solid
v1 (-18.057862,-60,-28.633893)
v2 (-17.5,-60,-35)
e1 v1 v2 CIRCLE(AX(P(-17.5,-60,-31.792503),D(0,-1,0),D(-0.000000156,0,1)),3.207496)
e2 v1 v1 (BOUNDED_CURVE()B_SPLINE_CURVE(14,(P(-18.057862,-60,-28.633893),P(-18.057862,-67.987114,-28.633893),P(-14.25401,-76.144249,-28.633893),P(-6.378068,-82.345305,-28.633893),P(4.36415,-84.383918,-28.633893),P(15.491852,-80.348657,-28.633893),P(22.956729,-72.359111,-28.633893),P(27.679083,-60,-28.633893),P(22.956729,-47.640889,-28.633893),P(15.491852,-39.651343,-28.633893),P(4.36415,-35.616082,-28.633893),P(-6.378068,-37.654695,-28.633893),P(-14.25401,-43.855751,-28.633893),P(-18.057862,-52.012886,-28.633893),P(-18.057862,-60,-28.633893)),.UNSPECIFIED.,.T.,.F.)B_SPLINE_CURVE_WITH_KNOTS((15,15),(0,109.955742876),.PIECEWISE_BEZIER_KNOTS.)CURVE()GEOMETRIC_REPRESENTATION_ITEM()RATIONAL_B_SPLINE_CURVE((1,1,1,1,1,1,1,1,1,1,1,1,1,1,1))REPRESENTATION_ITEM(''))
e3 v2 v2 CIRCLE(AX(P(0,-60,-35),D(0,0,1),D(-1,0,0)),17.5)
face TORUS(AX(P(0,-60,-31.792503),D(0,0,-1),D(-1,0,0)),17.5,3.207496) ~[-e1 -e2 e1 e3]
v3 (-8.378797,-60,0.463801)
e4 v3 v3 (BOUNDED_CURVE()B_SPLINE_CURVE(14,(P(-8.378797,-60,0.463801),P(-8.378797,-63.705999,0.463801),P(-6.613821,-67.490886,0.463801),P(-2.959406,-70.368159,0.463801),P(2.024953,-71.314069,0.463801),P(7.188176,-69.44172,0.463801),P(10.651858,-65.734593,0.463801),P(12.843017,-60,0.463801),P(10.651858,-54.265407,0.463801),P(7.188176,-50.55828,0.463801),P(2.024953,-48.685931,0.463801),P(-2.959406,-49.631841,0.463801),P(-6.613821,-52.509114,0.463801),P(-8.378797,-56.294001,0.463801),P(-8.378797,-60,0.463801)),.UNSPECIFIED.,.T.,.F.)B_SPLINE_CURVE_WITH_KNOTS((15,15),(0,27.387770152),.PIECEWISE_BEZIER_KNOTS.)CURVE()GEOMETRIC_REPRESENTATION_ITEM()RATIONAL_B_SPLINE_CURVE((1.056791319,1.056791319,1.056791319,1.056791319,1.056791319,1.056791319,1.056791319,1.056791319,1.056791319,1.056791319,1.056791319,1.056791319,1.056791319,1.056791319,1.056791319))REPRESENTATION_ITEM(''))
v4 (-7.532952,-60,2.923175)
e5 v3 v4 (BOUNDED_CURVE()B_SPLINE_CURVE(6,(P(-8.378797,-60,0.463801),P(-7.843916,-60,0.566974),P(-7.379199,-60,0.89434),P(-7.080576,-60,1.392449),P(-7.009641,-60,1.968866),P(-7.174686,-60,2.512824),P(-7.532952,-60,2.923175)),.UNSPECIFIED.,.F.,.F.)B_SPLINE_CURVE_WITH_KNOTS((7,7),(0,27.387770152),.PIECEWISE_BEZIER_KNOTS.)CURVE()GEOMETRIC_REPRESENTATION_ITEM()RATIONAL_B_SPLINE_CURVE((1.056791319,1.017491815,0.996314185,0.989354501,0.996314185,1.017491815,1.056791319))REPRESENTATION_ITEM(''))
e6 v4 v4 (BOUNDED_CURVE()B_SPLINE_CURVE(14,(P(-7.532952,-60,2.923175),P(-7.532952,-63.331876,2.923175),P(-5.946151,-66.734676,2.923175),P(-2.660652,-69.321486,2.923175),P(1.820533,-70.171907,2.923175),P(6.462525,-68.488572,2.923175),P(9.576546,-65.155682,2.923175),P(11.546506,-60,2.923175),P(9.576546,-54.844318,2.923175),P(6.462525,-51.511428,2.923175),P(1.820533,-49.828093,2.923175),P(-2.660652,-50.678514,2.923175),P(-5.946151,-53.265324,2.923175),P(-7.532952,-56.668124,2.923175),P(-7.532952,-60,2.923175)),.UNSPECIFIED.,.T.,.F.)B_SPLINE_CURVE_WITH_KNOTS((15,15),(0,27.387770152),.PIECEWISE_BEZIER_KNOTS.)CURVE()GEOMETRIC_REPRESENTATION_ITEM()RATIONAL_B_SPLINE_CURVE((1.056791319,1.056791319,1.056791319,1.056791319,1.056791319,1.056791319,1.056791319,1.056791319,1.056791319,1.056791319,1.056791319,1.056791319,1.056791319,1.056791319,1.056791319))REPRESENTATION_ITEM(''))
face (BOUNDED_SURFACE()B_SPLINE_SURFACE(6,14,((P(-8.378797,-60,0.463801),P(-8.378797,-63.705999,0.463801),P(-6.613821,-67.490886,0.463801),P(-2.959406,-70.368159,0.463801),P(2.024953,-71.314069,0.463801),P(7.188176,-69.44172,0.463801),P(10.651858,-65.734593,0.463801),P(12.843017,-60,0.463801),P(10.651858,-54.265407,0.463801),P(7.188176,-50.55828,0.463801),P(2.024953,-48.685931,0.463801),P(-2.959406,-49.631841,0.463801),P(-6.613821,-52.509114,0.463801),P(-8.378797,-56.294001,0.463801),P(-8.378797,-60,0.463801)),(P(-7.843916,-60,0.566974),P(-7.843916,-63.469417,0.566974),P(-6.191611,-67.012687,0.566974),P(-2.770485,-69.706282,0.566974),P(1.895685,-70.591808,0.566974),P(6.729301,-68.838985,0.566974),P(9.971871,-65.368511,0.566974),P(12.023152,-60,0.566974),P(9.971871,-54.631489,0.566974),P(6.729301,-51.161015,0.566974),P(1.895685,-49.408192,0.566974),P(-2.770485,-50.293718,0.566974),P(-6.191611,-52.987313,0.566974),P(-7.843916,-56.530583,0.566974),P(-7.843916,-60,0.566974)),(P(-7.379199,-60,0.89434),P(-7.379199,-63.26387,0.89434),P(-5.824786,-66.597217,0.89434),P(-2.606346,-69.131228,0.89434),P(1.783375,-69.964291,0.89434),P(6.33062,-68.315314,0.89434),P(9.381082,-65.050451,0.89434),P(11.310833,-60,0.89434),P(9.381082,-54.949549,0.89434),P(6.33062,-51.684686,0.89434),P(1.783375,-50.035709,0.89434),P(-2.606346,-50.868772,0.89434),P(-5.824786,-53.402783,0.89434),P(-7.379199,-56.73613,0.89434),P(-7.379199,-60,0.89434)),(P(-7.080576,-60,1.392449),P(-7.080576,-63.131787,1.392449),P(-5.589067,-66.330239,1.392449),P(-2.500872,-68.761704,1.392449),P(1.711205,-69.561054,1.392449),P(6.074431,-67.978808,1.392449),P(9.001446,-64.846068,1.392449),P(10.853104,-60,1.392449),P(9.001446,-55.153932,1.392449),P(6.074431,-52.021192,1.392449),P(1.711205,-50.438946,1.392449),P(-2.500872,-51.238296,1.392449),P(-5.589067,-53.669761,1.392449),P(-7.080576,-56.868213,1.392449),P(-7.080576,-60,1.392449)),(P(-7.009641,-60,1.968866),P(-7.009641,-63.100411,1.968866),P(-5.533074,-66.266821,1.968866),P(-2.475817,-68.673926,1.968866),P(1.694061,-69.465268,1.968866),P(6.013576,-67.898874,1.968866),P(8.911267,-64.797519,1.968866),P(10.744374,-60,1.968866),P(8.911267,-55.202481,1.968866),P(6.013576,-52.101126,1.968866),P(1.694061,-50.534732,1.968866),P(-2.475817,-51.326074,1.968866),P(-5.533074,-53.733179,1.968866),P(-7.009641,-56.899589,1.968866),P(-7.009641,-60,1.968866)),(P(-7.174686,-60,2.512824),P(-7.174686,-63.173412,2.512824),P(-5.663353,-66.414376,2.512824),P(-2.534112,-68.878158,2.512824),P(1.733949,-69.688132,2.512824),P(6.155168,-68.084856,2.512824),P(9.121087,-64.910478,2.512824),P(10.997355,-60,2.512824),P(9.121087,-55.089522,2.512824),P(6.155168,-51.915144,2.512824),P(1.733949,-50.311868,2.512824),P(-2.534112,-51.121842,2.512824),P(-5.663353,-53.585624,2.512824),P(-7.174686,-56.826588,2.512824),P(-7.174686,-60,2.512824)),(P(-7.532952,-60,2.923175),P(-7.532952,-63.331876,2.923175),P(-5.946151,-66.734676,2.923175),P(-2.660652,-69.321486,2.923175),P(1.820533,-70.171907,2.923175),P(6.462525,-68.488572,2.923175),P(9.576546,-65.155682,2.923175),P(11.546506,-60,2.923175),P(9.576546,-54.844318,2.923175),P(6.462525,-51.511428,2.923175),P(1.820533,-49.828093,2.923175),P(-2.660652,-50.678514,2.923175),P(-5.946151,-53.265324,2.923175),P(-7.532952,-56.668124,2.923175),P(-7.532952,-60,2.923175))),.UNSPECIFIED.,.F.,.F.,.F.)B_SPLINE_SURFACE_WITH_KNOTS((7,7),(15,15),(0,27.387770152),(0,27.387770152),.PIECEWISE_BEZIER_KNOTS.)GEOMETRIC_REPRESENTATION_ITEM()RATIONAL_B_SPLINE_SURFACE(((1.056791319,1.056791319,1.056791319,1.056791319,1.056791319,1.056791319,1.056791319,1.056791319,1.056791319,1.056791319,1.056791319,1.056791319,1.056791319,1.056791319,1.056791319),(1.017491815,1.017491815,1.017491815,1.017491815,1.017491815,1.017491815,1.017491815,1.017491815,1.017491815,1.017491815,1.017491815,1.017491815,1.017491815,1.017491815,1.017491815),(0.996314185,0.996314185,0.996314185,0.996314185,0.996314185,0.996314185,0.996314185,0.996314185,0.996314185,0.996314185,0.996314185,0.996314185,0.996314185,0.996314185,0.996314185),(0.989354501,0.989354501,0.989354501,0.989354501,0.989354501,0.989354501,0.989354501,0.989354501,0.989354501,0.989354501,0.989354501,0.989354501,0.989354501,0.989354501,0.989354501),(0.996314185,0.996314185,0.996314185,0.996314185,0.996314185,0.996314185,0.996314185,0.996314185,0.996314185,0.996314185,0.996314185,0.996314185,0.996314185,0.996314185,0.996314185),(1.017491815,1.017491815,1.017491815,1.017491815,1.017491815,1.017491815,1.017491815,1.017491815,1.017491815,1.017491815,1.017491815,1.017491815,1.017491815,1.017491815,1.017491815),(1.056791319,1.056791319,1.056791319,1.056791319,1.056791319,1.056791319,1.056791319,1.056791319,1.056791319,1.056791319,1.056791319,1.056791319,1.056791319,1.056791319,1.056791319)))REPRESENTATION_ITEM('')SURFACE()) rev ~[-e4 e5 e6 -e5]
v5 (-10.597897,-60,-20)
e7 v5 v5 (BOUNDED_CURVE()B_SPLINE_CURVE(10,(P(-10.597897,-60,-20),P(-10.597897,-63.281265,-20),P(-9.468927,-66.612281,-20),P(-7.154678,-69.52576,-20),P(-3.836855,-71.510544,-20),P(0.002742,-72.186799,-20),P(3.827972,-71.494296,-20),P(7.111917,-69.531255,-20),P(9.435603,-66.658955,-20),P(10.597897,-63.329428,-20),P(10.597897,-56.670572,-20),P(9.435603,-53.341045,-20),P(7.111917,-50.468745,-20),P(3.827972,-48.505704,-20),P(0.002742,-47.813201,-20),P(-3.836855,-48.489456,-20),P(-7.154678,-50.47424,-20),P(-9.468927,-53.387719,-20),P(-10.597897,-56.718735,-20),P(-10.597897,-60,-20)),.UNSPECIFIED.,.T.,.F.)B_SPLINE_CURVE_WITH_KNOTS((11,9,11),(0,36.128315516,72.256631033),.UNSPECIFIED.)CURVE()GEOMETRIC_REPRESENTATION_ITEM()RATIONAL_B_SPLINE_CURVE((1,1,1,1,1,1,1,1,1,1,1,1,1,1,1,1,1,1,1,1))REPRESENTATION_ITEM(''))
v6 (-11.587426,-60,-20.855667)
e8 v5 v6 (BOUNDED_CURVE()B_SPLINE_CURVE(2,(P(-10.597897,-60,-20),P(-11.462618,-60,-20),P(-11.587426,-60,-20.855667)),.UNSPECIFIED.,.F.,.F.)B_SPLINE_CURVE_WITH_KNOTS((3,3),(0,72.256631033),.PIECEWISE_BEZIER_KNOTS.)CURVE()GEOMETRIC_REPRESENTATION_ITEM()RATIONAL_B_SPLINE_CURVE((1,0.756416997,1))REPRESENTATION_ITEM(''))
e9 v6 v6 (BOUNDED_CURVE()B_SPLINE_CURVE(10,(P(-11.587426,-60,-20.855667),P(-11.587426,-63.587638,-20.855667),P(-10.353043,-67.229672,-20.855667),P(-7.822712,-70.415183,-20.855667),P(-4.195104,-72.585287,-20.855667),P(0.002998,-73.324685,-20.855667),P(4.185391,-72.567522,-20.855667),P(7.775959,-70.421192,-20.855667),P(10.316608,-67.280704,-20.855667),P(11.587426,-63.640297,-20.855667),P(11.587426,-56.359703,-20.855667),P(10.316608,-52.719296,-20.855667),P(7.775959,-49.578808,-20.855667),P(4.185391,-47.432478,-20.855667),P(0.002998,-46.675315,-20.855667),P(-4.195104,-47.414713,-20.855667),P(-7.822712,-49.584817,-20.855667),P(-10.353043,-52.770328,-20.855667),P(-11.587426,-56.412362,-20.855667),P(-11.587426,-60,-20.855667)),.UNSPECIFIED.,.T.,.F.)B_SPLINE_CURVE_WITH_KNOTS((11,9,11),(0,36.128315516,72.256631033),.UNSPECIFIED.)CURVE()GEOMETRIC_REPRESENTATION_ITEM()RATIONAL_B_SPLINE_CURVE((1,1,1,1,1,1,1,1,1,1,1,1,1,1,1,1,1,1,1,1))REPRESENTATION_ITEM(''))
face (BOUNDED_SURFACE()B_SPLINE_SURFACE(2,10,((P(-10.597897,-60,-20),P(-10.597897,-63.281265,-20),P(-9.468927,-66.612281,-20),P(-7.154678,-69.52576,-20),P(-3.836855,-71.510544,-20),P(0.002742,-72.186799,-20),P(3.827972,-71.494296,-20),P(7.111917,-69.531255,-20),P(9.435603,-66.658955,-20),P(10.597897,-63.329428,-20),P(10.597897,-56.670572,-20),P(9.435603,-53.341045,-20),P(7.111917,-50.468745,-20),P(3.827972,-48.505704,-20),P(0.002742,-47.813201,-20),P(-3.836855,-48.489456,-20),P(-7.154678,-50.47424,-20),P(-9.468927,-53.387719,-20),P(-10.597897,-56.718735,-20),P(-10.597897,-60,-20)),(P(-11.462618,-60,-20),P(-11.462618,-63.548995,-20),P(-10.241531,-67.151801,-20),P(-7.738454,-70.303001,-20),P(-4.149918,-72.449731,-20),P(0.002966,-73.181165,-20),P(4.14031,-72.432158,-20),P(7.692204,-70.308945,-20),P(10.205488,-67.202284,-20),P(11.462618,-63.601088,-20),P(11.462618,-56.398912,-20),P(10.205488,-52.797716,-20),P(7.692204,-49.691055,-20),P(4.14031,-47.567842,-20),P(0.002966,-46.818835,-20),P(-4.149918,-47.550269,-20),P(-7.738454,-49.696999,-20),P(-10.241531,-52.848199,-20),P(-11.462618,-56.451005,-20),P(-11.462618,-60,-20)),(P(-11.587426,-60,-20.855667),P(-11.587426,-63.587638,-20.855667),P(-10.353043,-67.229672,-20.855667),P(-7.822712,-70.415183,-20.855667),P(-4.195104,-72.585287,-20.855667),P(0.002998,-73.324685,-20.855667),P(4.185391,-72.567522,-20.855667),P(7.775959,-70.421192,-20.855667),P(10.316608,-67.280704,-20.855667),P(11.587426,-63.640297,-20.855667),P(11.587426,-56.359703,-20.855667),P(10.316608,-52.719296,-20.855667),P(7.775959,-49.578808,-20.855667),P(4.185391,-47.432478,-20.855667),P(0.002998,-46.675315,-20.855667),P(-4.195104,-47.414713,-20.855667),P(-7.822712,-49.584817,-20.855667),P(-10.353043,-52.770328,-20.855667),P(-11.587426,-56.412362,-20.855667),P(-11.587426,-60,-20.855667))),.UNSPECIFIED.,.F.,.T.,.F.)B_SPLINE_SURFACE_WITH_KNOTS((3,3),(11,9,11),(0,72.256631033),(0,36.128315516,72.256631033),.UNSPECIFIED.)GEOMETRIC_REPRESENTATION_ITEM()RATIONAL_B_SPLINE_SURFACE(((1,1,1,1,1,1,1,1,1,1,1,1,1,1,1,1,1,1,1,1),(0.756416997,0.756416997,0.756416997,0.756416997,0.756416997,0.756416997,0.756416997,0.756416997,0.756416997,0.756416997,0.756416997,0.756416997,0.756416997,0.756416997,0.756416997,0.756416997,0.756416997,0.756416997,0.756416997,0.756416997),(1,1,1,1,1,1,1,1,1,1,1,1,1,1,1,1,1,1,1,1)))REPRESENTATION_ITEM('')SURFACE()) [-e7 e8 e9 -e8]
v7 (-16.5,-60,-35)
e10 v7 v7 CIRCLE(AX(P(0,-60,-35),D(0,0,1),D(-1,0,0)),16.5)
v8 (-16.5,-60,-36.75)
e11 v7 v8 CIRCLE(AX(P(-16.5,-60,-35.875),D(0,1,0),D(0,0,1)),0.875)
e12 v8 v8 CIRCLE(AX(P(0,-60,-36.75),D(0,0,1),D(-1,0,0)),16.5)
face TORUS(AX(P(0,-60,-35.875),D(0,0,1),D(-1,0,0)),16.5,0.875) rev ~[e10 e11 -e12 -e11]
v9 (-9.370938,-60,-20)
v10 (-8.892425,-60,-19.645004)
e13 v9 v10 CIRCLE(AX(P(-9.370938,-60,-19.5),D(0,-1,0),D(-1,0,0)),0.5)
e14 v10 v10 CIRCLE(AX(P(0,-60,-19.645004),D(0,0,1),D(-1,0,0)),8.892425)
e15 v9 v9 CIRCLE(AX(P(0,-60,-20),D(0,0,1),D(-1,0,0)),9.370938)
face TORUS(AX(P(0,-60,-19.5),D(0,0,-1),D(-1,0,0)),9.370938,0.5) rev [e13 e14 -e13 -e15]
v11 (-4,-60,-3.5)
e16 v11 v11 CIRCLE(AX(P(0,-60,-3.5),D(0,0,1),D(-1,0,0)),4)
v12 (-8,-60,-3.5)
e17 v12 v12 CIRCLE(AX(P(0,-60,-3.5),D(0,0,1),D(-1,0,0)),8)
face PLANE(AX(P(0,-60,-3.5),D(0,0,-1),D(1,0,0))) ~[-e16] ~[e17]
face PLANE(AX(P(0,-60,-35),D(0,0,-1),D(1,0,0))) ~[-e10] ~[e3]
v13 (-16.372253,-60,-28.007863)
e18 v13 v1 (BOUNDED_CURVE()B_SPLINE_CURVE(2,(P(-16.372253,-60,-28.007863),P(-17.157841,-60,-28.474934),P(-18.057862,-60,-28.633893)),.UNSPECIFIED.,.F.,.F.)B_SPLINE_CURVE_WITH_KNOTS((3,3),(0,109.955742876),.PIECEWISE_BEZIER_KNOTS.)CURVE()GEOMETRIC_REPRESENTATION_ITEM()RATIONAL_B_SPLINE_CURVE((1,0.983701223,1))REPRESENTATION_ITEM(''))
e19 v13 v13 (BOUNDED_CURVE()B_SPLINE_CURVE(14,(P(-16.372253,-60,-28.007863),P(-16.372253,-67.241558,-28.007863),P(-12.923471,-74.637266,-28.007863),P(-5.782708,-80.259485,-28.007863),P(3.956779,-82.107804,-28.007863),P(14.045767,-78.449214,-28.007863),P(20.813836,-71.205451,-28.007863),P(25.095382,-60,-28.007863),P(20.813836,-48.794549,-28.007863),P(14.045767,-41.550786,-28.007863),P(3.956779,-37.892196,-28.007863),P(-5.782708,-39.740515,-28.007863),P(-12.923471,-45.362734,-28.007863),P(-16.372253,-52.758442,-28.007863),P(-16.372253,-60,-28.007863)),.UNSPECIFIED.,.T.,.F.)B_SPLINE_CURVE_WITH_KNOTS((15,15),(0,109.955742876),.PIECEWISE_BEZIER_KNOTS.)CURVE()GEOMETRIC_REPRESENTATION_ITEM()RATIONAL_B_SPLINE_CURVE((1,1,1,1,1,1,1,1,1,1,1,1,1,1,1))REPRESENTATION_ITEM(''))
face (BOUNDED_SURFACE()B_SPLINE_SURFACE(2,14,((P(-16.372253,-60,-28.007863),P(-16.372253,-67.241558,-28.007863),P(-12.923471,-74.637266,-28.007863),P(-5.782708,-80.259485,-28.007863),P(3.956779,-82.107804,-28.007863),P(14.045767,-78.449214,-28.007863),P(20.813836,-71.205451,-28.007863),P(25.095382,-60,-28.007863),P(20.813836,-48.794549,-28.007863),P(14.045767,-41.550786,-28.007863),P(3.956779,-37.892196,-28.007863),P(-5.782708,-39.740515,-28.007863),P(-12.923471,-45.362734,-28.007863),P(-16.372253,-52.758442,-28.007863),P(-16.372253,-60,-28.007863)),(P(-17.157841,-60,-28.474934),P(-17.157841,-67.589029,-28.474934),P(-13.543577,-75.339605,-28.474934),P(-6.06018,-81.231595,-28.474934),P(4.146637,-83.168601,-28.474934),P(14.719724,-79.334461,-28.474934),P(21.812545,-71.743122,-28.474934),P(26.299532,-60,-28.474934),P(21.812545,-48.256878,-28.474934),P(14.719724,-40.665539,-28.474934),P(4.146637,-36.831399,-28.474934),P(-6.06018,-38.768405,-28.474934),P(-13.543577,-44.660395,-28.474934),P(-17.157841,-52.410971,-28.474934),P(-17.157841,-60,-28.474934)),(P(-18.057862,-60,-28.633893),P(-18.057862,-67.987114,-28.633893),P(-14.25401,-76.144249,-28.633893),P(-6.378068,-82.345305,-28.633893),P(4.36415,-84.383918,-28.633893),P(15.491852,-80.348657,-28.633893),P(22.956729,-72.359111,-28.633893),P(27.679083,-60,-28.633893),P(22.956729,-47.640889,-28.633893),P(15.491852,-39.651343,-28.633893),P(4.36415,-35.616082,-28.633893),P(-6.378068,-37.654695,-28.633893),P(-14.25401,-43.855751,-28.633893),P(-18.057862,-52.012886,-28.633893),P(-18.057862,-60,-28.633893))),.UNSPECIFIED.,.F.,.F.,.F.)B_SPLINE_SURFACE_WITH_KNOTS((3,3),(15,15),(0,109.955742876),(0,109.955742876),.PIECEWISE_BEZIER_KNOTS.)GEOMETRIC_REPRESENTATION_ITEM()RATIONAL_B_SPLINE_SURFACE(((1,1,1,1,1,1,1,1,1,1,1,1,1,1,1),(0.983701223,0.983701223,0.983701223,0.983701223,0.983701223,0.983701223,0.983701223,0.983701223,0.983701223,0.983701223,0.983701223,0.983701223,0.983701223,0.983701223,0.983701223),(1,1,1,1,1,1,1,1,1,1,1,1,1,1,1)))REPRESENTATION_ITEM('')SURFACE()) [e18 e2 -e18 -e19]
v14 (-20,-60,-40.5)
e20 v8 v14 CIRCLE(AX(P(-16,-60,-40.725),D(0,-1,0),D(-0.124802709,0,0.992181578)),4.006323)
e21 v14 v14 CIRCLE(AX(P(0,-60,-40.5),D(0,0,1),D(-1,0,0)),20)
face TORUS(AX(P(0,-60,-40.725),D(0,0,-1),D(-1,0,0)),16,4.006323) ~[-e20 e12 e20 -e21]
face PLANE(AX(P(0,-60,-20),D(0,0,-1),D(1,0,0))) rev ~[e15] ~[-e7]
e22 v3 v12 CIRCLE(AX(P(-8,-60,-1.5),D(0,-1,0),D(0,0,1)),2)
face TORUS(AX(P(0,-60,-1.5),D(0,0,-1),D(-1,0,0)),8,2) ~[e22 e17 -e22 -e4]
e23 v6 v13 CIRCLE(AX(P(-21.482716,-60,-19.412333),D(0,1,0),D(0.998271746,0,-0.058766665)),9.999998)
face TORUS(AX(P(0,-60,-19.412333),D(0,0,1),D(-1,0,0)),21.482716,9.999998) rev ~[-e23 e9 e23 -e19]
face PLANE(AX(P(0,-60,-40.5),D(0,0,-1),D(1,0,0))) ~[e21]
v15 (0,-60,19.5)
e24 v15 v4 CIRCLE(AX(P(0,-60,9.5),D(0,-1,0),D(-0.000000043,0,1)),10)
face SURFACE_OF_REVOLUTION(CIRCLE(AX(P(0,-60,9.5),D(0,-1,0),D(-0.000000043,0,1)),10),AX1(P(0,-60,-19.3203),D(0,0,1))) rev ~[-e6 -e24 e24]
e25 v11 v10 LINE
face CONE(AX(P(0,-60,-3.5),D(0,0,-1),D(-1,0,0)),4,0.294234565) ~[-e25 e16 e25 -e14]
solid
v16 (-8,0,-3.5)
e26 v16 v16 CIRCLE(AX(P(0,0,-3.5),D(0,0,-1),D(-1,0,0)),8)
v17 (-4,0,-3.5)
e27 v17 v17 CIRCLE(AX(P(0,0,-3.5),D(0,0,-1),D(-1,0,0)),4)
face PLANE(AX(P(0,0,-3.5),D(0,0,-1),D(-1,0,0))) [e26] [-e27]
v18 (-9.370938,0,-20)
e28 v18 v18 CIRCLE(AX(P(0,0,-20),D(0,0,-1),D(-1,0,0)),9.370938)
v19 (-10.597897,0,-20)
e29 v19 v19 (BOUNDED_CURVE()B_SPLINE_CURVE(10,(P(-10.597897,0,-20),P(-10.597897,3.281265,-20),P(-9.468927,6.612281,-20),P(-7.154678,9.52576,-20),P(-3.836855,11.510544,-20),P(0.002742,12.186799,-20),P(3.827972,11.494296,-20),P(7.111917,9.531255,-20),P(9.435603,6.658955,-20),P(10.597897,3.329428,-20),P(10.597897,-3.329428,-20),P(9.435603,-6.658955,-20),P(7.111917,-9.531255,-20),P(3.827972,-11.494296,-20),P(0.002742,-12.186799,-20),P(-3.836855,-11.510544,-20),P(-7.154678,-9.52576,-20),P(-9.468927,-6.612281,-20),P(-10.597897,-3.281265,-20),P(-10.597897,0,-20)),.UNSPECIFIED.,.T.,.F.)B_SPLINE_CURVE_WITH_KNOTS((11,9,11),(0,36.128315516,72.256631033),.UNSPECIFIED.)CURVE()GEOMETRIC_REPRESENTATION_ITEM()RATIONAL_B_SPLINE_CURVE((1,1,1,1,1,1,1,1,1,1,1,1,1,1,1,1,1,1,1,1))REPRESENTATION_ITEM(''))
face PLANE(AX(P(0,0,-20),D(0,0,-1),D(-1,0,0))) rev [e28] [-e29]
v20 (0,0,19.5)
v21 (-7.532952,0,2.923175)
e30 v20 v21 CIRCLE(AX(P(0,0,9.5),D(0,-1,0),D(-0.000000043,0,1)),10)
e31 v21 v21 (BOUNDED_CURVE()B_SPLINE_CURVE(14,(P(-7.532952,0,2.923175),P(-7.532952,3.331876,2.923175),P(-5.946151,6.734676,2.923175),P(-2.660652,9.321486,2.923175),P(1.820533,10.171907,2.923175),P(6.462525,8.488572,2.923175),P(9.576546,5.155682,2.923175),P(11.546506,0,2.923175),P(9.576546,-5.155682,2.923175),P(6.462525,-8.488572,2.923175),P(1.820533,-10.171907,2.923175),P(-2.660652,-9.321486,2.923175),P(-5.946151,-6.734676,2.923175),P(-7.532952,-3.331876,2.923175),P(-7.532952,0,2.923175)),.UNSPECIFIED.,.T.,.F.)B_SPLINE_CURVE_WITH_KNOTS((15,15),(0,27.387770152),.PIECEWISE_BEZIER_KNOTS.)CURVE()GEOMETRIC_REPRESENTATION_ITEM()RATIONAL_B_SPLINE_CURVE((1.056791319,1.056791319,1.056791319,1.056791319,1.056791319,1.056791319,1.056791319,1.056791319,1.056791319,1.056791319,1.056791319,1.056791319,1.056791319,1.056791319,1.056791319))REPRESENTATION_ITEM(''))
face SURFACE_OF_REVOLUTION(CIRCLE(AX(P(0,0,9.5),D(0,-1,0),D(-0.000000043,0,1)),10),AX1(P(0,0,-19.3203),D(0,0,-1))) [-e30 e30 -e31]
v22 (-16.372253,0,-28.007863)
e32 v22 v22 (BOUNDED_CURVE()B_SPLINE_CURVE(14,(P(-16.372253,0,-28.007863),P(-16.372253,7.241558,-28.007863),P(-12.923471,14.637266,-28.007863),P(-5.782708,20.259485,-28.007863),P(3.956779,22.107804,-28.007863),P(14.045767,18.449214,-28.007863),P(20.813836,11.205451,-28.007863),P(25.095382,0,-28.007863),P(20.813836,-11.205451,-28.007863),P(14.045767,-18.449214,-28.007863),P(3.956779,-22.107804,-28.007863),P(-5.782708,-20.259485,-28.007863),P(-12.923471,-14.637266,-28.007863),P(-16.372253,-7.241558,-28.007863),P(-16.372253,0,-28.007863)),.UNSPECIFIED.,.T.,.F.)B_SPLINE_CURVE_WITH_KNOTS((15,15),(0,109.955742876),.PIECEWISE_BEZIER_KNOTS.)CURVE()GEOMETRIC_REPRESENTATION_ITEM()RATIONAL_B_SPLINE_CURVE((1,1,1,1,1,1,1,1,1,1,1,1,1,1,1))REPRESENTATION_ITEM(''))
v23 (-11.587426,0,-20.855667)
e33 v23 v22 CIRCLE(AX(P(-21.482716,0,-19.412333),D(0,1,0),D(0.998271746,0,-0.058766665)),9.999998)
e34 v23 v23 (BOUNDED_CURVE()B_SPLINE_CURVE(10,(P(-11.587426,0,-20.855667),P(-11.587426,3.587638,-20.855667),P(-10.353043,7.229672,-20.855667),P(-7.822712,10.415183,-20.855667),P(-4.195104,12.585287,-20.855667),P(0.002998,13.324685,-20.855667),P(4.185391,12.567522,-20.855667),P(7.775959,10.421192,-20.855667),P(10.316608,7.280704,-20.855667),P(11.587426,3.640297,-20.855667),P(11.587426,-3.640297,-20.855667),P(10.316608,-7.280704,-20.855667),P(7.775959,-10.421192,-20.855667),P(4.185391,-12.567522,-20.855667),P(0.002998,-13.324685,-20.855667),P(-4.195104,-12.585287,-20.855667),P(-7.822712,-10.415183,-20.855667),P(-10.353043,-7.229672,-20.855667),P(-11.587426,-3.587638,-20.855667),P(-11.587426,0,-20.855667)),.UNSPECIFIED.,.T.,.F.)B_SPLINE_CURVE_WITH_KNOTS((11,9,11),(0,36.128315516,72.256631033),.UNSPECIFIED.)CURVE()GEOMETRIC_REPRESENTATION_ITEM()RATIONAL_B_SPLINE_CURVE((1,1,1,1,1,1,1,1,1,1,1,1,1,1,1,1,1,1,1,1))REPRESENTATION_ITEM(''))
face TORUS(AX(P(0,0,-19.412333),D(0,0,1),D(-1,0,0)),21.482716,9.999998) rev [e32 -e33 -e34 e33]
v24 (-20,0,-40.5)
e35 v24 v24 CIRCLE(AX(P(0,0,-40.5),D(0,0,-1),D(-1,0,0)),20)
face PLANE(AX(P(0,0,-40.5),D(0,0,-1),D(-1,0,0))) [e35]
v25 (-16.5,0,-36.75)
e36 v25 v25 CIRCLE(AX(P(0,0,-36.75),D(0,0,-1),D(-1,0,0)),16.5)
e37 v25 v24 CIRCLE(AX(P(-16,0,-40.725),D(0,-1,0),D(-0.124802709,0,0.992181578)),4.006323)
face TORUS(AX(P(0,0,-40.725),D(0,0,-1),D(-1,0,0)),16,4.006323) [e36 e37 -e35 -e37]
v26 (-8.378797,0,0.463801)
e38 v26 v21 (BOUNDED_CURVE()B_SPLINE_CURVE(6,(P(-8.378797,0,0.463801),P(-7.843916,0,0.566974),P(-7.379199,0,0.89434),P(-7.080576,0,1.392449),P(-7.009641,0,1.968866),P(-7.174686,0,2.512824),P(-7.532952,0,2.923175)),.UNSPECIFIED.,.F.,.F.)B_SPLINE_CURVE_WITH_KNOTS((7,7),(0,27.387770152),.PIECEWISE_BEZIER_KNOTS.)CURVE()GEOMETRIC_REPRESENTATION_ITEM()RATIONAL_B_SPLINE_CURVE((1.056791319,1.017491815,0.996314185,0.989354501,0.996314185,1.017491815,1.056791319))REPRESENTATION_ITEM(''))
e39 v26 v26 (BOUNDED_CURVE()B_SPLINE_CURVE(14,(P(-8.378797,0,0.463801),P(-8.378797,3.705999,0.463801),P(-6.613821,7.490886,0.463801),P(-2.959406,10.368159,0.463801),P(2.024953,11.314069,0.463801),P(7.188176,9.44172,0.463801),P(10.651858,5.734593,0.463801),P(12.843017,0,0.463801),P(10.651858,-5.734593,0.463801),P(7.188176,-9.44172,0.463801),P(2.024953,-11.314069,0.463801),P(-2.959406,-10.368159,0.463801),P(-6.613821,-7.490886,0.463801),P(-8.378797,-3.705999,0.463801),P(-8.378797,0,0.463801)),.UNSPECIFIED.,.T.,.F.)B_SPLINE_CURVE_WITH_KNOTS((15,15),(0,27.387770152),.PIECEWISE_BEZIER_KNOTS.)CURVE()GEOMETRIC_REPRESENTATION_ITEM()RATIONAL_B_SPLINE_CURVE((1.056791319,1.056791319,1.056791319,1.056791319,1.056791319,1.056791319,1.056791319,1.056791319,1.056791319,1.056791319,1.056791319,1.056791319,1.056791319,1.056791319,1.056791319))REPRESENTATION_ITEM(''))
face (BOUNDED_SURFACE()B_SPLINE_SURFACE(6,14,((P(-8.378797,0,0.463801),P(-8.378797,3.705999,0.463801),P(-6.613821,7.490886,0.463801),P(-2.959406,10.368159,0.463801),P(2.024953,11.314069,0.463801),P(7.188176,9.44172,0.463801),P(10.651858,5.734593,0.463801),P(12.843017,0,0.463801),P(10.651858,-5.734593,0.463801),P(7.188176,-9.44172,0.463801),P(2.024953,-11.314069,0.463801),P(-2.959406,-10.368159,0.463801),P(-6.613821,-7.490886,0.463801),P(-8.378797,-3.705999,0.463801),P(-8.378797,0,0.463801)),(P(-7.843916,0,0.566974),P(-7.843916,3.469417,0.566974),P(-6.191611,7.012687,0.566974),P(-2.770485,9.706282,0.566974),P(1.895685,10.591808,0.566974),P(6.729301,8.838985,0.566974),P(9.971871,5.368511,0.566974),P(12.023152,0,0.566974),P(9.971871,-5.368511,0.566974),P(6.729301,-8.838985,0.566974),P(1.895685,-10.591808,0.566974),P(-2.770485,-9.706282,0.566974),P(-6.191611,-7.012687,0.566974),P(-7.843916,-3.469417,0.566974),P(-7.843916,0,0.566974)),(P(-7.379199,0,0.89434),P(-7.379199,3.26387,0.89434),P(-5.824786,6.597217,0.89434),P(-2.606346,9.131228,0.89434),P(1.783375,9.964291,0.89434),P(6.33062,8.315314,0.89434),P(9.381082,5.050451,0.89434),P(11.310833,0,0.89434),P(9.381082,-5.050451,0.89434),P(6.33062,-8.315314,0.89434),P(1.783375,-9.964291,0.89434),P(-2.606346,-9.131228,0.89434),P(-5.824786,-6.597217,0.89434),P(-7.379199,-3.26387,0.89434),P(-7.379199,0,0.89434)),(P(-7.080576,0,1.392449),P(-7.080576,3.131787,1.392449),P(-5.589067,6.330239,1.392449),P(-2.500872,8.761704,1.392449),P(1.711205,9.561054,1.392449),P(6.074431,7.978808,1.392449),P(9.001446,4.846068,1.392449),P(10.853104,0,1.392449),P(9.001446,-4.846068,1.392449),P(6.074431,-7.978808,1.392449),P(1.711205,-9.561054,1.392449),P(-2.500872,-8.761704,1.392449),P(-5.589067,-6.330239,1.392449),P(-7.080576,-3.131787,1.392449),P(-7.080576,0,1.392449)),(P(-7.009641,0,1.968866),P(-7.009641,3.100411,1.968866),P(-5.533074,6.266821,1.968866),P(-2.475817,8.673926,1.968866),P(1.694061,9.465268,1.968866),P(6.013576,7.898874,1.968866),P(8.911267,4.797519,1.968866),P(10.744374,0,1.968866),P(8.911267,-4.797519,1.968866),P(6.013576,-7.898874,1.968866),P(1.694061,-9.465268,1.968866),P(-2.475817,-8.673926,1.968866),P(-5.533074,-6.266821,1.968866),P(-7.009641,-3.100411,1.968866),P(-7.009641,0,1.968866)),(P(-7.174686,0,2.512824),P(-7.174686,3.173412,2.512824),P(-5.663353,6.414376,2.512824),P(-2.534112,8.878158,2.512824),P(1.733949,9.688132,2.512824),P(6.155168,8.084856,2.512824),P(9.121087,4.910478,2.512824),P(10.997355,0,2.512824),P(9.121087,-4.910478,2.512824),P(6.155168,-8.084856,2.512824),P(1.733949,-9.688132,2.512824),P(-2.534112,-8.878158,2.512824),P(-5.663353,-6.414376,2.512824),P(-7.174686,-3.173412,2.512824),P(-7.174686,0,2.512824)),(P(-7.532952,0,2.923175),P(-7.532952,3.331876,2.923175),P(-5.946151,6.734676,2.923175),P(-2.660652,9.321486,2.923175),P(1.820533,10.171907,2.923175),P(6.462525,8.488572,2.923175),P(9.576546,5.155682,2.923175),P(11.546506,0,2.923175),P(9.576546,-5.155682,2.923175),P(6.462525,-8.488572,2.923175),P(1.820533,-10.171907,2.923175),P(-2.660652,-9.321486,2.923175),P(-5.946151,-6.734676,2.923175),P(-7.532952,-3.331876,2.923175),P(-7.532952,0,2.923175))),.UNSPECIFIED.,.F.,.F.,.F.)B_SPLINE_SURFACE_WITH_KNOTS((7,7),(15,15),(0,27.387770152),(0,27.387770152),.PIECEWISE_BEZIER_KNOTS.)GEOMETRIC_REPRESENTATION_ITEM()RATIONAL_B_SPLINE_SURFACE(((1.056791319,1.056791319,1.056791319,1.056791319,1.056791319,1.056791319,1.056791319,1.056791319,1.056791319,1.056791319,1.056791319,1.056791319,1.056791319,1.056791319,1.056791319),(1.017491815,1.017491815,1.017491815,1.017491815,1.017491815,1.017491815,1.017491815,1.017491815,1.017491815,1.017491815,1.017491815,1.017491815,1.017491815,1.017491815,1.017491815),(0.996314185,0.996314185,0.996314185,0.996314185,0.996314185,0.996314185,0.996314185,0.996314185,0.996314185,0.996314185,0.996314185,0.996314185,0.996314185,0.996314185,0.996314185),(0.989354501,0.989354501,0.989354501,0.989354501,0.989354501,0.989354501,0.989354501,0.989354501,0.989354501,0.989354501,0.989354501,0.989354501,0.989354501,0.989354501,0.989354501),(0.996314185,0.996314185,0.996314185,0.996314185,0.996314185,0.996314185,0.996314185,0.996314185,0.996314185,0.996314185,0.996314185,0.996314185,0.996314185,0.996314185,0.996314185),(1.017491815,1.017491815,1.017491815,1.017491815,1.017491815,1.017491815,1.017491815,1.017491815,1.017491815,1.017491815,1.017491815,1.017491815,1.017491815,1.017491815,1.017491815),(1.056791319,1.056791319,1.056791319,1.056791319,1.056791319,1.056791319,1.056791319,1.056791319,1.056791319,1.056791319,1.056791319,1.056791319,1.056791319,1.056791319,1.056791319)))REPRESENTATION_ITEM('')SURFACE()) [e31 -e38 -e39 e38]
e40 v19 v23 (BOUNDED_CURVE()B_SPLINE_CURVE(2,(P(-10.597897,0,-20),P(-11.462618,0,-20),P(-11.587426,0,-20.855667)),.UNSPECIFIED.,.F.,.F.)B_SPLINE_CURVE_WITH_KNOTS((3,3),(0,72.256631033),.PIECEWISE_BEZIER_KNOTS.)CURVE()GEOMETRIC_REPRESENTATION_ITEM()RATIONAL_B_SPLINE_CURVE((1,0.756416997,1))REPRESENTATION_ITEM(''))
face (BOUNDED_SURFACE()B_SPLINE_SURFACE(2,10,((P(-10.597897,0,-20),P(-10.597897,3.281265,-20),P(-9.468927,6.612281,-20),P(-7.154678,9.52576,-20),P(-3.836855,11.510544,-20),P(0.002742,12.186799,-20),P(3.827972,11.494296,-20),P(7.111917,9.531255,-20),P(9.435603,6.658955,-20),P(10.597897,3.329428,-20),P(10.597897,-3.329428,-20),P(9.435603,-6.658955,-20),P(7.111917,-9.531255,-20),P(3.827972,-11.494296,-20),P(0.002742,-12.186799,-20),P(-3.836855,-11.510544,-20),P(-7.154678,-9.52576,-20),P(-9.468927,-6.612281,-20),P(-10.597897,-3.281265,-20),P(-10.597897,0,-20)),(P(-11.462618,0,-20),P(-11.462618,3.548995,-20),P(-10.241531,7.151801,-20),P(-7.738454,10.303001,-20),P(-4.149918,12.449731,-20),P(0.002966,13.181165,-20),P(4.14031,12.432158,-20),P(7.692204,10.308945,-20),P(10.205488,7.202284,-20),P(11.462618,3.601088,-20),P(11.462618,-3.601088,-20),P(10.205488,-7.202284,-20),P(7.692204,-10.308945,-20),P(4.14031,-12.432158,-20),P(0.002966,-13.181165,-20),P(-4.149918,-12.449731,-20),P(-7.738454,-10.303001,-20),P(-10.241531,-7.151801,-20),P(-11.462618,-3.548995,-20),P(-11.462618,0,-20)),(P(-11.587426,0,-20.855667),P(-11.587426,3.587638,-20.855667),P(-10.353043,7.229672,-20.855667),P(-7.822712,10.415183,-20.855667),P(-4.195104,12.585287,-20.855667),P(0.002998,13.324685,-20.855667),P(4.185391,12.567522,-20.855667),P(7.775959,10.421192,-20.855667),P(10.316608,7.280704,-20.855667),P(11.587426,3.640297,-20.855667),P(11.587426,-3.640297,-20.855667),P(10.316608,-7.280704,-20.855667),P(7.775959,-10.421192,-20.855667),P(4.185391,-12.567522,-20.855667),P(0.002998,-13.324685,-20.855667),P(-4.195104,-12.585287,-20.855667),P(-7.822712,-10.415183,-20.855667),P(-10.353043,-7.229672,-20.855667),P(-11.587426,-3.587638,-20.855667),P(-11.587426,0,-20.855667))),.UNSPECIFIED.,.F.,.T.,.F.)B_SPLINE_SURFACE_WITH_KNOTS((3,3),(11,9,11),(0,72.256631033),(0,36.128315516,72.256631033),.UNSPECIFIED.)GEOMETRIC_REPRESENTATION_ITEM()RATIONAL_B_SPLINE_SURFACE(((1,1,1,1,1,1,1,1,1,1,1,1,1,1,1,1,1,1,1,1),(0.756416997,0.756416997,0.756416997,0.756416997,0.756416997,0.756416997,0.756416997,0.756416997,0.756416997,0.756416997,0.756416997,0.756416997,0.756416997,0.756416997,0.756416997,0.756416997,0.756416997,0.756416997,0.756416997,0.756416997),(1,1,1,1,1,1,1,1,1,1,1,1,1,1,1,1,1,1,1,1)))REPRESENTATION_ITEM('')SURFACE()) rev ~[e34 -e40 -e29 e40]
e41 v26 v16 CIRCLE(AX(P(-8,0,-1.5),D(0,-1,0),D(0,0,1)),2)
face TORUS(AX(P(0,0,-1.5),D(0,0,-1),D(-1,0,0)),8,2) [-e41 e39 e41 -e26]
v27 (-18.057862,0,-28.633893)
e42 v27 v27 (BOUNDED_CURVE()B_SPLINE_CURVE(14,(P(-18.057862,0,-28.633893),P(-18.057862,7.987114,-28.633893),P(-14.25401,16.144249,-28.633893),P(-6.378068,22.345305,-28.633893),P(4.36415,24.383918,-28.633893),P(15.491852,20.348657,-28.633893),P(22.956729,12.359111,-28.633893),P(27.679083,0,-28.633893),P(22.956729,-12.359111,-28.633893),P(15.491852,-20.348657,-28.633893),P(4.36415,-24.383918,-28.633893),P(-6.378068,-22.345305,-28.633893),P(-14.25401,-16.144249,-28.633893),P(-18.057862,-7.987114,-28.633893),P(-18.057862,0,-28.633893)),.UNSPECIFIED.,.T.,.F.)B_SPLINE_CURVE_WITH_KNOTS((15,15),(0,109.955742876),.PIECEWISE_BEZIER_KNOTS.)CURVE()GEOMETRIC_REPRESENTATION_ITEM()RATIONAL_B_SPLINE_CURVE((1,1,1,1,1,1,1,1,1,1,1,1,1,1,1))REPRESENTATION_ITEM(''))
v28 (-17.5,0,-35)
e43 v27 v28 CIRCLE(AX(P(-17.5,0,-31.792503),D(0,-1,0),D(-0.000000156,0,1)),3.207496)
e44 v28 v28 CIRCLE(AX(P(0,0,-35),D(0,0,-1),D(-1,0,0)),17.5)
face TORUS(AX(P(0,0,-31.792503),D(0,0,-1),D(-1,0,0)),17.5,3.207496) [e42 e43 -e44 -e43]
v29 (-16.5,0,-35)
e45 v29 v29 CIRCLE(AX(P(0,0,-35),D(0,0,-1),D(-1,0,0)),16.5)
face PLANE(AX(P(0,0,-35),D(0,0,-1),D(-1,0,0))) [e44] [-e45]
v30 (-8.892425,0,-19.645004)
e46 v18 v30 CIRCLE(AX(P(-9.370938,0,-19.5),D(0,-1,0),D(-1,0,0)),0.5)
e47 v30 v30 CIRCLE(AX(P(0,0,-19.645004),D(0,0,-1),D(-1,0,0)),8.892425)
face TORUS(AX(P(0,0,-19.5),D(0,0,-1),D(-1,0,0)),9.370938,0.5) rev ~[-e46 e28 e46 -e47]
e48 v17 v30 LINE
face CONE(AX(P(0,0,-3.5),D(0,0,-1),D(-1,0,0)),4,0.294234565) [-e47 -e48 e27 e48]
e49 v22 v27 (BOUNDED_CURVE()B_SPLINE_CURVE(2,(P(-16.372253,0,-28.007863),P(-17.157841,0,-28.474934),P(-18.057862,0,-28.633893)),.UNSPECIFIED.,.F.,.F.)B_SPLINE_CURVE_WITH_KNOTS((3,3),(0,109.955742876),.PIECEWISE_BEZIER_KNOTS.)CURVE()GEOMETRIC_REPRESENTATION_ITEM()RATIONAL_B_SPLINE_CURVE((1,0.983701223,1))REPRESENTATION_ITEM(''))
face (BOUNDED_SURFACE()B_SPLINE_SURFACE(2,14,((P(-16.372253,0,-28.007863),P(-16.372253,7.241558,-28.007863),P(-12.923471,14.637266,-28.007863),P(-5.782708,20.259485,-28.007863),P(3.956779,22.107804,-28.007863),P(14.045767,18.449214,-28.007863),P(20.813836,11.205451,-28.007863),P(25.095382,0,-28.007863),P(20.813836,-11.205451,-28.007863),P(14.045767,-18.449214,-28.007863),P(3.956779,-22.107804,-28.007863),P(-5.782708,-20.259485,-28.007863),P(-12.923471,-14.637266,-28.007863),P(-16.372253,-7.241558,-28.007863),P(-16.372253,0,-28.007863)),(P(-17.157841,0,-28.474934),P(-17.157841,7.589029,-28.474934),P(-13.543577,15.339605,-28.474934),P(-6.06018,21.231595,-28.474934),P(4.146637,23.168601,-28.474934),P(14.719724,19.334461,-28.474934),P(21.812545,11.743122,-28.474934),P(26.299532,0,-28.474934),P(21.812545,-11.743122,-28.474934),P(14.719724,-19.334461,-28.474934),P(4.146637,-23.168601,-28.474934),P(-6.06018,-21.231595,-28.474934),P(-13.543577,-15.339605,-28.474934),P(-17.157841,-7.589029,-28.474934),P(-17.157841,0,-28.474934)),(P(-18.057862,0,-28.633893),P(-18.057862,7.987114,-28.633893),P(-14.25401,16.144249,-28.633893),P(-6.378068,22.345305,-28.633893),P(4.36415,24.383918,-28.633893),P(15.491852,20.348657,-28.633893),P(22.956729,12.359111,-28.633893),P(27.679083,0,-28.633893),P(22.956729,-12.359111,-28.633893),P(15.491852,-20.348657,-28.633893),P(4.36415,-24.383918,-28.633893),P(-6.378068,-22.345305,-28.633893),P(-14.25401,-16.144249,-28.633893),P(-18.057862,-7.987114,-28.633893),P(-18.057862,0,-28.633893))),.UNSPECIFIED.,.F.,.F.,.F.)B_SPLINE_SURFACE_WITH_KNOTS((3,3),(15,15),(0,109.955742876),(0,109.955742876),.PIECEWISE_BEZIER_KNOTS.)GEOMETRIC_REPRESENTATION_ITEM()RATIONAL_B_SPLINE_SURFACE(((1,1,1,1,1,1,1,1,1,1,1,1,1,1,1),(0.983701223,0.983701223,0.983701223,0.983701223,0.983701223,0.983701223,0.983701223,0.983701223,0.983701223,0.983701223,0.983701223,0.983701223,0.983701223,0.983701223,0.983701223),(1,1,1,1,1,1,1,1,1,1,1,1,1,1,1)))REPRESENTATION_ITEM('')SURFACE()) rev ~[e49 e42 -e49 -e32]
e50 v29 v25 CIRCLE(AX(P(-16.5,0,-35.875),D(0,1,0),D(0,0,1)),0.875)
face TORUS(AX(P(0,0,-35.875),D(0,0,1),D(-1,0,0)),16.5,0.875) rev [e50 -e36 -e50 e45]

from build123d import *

# Parameters (mm, degrees)
F2_R = 1.5
F3_R = 1
F4_R = 0.5
F5_R = 5


with BuildPart() as f1:
    # F0 (on Front) → F1 (revolve)
    with BuildSketch(Plane.XZ):
        with BuildLine():
            ThreePointArc((0, -0.5), (-2.236068, -0.246794), (-4.358899, 0.5))
            Line((-4.358899, 0.5), (-8, 0.5))
            ThreePointArc((-8, 0.5), (-10, -1.5), (-8, -3.5))
            Line((-8, -3.5), (-4, -3.5))
            Line((-4, -3.5), (0, -3.5))
            Line((0, -3.5), (0, -0.5))
        make_face()
        with BuildLine():
            Line((0, -40.5), (0, -3.5))
            Line((0, -3.5), (-4, -3.5))
            Line((-4, -3.5), (-9, -20))
            Line((-9, -20), (-11.5, -20))
            ThreePointArc((-11.5, -20), (-13.286137, -25.140864), (-17.5, -28.585007))
            ThreePointArc((-17.5, -28.585007), (-20.707496, -31.792504), (-17.5, -35))
            Line((-17.5, -35), (-16.5, -35))
            ThreePointArc((-16.5, -35), (-15.625, -35.875), (-16.5, -36.75))
            ThreePointArc((-16.5, -36.75), (-18.928844, -37.991413), (-20, -40.5))
            Line((-20, -40.5), (0, -40.5))
        make_face()
        with BuildLine():
            Line((0, 0.5), (0, 19.5))
            ThreePointArc((0, 19.5), (-9.746794, 11.736068), (-4.358899, 0.5))
            Line((-4.358899, 0.5), (0, 0.5))
        make_face()
        with BuildLine():
            Line((0, 0.5), (-4.358899, 0.5))
            ThreePointArc((-4.358899, 0.5), (-2.236068, -0.246794), (0, -0.5))
            Line((0, -0.5), (0, 0.5))
        make_face()
    revolve(axis=Axis((0, 0, -19.3203), (0, 0, -1)))

    # F2
    f2_edges = [f1.edges().sort_by_distance(p)[0] for p in [
        (4.358899, 0, 0.5),
    ]]
    fillet(f2_edges, radius=F2_R)

    # F3
    f3_edges = [f1.edges().sort_by_distance(p)[0] for p in [
        (11.5, 0, -20),
    ]]
    fillet(f3_edges, radius=F3_R)

    # F4
    f4_edges = [f1.edges().sort_by_distance(p)[0] for p in [
        (9, 0, -20),
    ]]
    fillet(f4_edges, radius=F4_R)

    # F5
    f5_edges = [f1.edges().sort_by_distance(p)[0] for p in [
        (17.5, 0, -28.585007),
        (17.5, 0, -35),
        (16.5, 0, -35),
    ]]
    fillet(f5_edges, radius=F5_R)


with BuildPart() as f7_1:
    # F7: instance of F1
    add(f1.part.mirror(Plane.XZ.offset(30)))


solid = Compound([f1.part, f7_1.part])
